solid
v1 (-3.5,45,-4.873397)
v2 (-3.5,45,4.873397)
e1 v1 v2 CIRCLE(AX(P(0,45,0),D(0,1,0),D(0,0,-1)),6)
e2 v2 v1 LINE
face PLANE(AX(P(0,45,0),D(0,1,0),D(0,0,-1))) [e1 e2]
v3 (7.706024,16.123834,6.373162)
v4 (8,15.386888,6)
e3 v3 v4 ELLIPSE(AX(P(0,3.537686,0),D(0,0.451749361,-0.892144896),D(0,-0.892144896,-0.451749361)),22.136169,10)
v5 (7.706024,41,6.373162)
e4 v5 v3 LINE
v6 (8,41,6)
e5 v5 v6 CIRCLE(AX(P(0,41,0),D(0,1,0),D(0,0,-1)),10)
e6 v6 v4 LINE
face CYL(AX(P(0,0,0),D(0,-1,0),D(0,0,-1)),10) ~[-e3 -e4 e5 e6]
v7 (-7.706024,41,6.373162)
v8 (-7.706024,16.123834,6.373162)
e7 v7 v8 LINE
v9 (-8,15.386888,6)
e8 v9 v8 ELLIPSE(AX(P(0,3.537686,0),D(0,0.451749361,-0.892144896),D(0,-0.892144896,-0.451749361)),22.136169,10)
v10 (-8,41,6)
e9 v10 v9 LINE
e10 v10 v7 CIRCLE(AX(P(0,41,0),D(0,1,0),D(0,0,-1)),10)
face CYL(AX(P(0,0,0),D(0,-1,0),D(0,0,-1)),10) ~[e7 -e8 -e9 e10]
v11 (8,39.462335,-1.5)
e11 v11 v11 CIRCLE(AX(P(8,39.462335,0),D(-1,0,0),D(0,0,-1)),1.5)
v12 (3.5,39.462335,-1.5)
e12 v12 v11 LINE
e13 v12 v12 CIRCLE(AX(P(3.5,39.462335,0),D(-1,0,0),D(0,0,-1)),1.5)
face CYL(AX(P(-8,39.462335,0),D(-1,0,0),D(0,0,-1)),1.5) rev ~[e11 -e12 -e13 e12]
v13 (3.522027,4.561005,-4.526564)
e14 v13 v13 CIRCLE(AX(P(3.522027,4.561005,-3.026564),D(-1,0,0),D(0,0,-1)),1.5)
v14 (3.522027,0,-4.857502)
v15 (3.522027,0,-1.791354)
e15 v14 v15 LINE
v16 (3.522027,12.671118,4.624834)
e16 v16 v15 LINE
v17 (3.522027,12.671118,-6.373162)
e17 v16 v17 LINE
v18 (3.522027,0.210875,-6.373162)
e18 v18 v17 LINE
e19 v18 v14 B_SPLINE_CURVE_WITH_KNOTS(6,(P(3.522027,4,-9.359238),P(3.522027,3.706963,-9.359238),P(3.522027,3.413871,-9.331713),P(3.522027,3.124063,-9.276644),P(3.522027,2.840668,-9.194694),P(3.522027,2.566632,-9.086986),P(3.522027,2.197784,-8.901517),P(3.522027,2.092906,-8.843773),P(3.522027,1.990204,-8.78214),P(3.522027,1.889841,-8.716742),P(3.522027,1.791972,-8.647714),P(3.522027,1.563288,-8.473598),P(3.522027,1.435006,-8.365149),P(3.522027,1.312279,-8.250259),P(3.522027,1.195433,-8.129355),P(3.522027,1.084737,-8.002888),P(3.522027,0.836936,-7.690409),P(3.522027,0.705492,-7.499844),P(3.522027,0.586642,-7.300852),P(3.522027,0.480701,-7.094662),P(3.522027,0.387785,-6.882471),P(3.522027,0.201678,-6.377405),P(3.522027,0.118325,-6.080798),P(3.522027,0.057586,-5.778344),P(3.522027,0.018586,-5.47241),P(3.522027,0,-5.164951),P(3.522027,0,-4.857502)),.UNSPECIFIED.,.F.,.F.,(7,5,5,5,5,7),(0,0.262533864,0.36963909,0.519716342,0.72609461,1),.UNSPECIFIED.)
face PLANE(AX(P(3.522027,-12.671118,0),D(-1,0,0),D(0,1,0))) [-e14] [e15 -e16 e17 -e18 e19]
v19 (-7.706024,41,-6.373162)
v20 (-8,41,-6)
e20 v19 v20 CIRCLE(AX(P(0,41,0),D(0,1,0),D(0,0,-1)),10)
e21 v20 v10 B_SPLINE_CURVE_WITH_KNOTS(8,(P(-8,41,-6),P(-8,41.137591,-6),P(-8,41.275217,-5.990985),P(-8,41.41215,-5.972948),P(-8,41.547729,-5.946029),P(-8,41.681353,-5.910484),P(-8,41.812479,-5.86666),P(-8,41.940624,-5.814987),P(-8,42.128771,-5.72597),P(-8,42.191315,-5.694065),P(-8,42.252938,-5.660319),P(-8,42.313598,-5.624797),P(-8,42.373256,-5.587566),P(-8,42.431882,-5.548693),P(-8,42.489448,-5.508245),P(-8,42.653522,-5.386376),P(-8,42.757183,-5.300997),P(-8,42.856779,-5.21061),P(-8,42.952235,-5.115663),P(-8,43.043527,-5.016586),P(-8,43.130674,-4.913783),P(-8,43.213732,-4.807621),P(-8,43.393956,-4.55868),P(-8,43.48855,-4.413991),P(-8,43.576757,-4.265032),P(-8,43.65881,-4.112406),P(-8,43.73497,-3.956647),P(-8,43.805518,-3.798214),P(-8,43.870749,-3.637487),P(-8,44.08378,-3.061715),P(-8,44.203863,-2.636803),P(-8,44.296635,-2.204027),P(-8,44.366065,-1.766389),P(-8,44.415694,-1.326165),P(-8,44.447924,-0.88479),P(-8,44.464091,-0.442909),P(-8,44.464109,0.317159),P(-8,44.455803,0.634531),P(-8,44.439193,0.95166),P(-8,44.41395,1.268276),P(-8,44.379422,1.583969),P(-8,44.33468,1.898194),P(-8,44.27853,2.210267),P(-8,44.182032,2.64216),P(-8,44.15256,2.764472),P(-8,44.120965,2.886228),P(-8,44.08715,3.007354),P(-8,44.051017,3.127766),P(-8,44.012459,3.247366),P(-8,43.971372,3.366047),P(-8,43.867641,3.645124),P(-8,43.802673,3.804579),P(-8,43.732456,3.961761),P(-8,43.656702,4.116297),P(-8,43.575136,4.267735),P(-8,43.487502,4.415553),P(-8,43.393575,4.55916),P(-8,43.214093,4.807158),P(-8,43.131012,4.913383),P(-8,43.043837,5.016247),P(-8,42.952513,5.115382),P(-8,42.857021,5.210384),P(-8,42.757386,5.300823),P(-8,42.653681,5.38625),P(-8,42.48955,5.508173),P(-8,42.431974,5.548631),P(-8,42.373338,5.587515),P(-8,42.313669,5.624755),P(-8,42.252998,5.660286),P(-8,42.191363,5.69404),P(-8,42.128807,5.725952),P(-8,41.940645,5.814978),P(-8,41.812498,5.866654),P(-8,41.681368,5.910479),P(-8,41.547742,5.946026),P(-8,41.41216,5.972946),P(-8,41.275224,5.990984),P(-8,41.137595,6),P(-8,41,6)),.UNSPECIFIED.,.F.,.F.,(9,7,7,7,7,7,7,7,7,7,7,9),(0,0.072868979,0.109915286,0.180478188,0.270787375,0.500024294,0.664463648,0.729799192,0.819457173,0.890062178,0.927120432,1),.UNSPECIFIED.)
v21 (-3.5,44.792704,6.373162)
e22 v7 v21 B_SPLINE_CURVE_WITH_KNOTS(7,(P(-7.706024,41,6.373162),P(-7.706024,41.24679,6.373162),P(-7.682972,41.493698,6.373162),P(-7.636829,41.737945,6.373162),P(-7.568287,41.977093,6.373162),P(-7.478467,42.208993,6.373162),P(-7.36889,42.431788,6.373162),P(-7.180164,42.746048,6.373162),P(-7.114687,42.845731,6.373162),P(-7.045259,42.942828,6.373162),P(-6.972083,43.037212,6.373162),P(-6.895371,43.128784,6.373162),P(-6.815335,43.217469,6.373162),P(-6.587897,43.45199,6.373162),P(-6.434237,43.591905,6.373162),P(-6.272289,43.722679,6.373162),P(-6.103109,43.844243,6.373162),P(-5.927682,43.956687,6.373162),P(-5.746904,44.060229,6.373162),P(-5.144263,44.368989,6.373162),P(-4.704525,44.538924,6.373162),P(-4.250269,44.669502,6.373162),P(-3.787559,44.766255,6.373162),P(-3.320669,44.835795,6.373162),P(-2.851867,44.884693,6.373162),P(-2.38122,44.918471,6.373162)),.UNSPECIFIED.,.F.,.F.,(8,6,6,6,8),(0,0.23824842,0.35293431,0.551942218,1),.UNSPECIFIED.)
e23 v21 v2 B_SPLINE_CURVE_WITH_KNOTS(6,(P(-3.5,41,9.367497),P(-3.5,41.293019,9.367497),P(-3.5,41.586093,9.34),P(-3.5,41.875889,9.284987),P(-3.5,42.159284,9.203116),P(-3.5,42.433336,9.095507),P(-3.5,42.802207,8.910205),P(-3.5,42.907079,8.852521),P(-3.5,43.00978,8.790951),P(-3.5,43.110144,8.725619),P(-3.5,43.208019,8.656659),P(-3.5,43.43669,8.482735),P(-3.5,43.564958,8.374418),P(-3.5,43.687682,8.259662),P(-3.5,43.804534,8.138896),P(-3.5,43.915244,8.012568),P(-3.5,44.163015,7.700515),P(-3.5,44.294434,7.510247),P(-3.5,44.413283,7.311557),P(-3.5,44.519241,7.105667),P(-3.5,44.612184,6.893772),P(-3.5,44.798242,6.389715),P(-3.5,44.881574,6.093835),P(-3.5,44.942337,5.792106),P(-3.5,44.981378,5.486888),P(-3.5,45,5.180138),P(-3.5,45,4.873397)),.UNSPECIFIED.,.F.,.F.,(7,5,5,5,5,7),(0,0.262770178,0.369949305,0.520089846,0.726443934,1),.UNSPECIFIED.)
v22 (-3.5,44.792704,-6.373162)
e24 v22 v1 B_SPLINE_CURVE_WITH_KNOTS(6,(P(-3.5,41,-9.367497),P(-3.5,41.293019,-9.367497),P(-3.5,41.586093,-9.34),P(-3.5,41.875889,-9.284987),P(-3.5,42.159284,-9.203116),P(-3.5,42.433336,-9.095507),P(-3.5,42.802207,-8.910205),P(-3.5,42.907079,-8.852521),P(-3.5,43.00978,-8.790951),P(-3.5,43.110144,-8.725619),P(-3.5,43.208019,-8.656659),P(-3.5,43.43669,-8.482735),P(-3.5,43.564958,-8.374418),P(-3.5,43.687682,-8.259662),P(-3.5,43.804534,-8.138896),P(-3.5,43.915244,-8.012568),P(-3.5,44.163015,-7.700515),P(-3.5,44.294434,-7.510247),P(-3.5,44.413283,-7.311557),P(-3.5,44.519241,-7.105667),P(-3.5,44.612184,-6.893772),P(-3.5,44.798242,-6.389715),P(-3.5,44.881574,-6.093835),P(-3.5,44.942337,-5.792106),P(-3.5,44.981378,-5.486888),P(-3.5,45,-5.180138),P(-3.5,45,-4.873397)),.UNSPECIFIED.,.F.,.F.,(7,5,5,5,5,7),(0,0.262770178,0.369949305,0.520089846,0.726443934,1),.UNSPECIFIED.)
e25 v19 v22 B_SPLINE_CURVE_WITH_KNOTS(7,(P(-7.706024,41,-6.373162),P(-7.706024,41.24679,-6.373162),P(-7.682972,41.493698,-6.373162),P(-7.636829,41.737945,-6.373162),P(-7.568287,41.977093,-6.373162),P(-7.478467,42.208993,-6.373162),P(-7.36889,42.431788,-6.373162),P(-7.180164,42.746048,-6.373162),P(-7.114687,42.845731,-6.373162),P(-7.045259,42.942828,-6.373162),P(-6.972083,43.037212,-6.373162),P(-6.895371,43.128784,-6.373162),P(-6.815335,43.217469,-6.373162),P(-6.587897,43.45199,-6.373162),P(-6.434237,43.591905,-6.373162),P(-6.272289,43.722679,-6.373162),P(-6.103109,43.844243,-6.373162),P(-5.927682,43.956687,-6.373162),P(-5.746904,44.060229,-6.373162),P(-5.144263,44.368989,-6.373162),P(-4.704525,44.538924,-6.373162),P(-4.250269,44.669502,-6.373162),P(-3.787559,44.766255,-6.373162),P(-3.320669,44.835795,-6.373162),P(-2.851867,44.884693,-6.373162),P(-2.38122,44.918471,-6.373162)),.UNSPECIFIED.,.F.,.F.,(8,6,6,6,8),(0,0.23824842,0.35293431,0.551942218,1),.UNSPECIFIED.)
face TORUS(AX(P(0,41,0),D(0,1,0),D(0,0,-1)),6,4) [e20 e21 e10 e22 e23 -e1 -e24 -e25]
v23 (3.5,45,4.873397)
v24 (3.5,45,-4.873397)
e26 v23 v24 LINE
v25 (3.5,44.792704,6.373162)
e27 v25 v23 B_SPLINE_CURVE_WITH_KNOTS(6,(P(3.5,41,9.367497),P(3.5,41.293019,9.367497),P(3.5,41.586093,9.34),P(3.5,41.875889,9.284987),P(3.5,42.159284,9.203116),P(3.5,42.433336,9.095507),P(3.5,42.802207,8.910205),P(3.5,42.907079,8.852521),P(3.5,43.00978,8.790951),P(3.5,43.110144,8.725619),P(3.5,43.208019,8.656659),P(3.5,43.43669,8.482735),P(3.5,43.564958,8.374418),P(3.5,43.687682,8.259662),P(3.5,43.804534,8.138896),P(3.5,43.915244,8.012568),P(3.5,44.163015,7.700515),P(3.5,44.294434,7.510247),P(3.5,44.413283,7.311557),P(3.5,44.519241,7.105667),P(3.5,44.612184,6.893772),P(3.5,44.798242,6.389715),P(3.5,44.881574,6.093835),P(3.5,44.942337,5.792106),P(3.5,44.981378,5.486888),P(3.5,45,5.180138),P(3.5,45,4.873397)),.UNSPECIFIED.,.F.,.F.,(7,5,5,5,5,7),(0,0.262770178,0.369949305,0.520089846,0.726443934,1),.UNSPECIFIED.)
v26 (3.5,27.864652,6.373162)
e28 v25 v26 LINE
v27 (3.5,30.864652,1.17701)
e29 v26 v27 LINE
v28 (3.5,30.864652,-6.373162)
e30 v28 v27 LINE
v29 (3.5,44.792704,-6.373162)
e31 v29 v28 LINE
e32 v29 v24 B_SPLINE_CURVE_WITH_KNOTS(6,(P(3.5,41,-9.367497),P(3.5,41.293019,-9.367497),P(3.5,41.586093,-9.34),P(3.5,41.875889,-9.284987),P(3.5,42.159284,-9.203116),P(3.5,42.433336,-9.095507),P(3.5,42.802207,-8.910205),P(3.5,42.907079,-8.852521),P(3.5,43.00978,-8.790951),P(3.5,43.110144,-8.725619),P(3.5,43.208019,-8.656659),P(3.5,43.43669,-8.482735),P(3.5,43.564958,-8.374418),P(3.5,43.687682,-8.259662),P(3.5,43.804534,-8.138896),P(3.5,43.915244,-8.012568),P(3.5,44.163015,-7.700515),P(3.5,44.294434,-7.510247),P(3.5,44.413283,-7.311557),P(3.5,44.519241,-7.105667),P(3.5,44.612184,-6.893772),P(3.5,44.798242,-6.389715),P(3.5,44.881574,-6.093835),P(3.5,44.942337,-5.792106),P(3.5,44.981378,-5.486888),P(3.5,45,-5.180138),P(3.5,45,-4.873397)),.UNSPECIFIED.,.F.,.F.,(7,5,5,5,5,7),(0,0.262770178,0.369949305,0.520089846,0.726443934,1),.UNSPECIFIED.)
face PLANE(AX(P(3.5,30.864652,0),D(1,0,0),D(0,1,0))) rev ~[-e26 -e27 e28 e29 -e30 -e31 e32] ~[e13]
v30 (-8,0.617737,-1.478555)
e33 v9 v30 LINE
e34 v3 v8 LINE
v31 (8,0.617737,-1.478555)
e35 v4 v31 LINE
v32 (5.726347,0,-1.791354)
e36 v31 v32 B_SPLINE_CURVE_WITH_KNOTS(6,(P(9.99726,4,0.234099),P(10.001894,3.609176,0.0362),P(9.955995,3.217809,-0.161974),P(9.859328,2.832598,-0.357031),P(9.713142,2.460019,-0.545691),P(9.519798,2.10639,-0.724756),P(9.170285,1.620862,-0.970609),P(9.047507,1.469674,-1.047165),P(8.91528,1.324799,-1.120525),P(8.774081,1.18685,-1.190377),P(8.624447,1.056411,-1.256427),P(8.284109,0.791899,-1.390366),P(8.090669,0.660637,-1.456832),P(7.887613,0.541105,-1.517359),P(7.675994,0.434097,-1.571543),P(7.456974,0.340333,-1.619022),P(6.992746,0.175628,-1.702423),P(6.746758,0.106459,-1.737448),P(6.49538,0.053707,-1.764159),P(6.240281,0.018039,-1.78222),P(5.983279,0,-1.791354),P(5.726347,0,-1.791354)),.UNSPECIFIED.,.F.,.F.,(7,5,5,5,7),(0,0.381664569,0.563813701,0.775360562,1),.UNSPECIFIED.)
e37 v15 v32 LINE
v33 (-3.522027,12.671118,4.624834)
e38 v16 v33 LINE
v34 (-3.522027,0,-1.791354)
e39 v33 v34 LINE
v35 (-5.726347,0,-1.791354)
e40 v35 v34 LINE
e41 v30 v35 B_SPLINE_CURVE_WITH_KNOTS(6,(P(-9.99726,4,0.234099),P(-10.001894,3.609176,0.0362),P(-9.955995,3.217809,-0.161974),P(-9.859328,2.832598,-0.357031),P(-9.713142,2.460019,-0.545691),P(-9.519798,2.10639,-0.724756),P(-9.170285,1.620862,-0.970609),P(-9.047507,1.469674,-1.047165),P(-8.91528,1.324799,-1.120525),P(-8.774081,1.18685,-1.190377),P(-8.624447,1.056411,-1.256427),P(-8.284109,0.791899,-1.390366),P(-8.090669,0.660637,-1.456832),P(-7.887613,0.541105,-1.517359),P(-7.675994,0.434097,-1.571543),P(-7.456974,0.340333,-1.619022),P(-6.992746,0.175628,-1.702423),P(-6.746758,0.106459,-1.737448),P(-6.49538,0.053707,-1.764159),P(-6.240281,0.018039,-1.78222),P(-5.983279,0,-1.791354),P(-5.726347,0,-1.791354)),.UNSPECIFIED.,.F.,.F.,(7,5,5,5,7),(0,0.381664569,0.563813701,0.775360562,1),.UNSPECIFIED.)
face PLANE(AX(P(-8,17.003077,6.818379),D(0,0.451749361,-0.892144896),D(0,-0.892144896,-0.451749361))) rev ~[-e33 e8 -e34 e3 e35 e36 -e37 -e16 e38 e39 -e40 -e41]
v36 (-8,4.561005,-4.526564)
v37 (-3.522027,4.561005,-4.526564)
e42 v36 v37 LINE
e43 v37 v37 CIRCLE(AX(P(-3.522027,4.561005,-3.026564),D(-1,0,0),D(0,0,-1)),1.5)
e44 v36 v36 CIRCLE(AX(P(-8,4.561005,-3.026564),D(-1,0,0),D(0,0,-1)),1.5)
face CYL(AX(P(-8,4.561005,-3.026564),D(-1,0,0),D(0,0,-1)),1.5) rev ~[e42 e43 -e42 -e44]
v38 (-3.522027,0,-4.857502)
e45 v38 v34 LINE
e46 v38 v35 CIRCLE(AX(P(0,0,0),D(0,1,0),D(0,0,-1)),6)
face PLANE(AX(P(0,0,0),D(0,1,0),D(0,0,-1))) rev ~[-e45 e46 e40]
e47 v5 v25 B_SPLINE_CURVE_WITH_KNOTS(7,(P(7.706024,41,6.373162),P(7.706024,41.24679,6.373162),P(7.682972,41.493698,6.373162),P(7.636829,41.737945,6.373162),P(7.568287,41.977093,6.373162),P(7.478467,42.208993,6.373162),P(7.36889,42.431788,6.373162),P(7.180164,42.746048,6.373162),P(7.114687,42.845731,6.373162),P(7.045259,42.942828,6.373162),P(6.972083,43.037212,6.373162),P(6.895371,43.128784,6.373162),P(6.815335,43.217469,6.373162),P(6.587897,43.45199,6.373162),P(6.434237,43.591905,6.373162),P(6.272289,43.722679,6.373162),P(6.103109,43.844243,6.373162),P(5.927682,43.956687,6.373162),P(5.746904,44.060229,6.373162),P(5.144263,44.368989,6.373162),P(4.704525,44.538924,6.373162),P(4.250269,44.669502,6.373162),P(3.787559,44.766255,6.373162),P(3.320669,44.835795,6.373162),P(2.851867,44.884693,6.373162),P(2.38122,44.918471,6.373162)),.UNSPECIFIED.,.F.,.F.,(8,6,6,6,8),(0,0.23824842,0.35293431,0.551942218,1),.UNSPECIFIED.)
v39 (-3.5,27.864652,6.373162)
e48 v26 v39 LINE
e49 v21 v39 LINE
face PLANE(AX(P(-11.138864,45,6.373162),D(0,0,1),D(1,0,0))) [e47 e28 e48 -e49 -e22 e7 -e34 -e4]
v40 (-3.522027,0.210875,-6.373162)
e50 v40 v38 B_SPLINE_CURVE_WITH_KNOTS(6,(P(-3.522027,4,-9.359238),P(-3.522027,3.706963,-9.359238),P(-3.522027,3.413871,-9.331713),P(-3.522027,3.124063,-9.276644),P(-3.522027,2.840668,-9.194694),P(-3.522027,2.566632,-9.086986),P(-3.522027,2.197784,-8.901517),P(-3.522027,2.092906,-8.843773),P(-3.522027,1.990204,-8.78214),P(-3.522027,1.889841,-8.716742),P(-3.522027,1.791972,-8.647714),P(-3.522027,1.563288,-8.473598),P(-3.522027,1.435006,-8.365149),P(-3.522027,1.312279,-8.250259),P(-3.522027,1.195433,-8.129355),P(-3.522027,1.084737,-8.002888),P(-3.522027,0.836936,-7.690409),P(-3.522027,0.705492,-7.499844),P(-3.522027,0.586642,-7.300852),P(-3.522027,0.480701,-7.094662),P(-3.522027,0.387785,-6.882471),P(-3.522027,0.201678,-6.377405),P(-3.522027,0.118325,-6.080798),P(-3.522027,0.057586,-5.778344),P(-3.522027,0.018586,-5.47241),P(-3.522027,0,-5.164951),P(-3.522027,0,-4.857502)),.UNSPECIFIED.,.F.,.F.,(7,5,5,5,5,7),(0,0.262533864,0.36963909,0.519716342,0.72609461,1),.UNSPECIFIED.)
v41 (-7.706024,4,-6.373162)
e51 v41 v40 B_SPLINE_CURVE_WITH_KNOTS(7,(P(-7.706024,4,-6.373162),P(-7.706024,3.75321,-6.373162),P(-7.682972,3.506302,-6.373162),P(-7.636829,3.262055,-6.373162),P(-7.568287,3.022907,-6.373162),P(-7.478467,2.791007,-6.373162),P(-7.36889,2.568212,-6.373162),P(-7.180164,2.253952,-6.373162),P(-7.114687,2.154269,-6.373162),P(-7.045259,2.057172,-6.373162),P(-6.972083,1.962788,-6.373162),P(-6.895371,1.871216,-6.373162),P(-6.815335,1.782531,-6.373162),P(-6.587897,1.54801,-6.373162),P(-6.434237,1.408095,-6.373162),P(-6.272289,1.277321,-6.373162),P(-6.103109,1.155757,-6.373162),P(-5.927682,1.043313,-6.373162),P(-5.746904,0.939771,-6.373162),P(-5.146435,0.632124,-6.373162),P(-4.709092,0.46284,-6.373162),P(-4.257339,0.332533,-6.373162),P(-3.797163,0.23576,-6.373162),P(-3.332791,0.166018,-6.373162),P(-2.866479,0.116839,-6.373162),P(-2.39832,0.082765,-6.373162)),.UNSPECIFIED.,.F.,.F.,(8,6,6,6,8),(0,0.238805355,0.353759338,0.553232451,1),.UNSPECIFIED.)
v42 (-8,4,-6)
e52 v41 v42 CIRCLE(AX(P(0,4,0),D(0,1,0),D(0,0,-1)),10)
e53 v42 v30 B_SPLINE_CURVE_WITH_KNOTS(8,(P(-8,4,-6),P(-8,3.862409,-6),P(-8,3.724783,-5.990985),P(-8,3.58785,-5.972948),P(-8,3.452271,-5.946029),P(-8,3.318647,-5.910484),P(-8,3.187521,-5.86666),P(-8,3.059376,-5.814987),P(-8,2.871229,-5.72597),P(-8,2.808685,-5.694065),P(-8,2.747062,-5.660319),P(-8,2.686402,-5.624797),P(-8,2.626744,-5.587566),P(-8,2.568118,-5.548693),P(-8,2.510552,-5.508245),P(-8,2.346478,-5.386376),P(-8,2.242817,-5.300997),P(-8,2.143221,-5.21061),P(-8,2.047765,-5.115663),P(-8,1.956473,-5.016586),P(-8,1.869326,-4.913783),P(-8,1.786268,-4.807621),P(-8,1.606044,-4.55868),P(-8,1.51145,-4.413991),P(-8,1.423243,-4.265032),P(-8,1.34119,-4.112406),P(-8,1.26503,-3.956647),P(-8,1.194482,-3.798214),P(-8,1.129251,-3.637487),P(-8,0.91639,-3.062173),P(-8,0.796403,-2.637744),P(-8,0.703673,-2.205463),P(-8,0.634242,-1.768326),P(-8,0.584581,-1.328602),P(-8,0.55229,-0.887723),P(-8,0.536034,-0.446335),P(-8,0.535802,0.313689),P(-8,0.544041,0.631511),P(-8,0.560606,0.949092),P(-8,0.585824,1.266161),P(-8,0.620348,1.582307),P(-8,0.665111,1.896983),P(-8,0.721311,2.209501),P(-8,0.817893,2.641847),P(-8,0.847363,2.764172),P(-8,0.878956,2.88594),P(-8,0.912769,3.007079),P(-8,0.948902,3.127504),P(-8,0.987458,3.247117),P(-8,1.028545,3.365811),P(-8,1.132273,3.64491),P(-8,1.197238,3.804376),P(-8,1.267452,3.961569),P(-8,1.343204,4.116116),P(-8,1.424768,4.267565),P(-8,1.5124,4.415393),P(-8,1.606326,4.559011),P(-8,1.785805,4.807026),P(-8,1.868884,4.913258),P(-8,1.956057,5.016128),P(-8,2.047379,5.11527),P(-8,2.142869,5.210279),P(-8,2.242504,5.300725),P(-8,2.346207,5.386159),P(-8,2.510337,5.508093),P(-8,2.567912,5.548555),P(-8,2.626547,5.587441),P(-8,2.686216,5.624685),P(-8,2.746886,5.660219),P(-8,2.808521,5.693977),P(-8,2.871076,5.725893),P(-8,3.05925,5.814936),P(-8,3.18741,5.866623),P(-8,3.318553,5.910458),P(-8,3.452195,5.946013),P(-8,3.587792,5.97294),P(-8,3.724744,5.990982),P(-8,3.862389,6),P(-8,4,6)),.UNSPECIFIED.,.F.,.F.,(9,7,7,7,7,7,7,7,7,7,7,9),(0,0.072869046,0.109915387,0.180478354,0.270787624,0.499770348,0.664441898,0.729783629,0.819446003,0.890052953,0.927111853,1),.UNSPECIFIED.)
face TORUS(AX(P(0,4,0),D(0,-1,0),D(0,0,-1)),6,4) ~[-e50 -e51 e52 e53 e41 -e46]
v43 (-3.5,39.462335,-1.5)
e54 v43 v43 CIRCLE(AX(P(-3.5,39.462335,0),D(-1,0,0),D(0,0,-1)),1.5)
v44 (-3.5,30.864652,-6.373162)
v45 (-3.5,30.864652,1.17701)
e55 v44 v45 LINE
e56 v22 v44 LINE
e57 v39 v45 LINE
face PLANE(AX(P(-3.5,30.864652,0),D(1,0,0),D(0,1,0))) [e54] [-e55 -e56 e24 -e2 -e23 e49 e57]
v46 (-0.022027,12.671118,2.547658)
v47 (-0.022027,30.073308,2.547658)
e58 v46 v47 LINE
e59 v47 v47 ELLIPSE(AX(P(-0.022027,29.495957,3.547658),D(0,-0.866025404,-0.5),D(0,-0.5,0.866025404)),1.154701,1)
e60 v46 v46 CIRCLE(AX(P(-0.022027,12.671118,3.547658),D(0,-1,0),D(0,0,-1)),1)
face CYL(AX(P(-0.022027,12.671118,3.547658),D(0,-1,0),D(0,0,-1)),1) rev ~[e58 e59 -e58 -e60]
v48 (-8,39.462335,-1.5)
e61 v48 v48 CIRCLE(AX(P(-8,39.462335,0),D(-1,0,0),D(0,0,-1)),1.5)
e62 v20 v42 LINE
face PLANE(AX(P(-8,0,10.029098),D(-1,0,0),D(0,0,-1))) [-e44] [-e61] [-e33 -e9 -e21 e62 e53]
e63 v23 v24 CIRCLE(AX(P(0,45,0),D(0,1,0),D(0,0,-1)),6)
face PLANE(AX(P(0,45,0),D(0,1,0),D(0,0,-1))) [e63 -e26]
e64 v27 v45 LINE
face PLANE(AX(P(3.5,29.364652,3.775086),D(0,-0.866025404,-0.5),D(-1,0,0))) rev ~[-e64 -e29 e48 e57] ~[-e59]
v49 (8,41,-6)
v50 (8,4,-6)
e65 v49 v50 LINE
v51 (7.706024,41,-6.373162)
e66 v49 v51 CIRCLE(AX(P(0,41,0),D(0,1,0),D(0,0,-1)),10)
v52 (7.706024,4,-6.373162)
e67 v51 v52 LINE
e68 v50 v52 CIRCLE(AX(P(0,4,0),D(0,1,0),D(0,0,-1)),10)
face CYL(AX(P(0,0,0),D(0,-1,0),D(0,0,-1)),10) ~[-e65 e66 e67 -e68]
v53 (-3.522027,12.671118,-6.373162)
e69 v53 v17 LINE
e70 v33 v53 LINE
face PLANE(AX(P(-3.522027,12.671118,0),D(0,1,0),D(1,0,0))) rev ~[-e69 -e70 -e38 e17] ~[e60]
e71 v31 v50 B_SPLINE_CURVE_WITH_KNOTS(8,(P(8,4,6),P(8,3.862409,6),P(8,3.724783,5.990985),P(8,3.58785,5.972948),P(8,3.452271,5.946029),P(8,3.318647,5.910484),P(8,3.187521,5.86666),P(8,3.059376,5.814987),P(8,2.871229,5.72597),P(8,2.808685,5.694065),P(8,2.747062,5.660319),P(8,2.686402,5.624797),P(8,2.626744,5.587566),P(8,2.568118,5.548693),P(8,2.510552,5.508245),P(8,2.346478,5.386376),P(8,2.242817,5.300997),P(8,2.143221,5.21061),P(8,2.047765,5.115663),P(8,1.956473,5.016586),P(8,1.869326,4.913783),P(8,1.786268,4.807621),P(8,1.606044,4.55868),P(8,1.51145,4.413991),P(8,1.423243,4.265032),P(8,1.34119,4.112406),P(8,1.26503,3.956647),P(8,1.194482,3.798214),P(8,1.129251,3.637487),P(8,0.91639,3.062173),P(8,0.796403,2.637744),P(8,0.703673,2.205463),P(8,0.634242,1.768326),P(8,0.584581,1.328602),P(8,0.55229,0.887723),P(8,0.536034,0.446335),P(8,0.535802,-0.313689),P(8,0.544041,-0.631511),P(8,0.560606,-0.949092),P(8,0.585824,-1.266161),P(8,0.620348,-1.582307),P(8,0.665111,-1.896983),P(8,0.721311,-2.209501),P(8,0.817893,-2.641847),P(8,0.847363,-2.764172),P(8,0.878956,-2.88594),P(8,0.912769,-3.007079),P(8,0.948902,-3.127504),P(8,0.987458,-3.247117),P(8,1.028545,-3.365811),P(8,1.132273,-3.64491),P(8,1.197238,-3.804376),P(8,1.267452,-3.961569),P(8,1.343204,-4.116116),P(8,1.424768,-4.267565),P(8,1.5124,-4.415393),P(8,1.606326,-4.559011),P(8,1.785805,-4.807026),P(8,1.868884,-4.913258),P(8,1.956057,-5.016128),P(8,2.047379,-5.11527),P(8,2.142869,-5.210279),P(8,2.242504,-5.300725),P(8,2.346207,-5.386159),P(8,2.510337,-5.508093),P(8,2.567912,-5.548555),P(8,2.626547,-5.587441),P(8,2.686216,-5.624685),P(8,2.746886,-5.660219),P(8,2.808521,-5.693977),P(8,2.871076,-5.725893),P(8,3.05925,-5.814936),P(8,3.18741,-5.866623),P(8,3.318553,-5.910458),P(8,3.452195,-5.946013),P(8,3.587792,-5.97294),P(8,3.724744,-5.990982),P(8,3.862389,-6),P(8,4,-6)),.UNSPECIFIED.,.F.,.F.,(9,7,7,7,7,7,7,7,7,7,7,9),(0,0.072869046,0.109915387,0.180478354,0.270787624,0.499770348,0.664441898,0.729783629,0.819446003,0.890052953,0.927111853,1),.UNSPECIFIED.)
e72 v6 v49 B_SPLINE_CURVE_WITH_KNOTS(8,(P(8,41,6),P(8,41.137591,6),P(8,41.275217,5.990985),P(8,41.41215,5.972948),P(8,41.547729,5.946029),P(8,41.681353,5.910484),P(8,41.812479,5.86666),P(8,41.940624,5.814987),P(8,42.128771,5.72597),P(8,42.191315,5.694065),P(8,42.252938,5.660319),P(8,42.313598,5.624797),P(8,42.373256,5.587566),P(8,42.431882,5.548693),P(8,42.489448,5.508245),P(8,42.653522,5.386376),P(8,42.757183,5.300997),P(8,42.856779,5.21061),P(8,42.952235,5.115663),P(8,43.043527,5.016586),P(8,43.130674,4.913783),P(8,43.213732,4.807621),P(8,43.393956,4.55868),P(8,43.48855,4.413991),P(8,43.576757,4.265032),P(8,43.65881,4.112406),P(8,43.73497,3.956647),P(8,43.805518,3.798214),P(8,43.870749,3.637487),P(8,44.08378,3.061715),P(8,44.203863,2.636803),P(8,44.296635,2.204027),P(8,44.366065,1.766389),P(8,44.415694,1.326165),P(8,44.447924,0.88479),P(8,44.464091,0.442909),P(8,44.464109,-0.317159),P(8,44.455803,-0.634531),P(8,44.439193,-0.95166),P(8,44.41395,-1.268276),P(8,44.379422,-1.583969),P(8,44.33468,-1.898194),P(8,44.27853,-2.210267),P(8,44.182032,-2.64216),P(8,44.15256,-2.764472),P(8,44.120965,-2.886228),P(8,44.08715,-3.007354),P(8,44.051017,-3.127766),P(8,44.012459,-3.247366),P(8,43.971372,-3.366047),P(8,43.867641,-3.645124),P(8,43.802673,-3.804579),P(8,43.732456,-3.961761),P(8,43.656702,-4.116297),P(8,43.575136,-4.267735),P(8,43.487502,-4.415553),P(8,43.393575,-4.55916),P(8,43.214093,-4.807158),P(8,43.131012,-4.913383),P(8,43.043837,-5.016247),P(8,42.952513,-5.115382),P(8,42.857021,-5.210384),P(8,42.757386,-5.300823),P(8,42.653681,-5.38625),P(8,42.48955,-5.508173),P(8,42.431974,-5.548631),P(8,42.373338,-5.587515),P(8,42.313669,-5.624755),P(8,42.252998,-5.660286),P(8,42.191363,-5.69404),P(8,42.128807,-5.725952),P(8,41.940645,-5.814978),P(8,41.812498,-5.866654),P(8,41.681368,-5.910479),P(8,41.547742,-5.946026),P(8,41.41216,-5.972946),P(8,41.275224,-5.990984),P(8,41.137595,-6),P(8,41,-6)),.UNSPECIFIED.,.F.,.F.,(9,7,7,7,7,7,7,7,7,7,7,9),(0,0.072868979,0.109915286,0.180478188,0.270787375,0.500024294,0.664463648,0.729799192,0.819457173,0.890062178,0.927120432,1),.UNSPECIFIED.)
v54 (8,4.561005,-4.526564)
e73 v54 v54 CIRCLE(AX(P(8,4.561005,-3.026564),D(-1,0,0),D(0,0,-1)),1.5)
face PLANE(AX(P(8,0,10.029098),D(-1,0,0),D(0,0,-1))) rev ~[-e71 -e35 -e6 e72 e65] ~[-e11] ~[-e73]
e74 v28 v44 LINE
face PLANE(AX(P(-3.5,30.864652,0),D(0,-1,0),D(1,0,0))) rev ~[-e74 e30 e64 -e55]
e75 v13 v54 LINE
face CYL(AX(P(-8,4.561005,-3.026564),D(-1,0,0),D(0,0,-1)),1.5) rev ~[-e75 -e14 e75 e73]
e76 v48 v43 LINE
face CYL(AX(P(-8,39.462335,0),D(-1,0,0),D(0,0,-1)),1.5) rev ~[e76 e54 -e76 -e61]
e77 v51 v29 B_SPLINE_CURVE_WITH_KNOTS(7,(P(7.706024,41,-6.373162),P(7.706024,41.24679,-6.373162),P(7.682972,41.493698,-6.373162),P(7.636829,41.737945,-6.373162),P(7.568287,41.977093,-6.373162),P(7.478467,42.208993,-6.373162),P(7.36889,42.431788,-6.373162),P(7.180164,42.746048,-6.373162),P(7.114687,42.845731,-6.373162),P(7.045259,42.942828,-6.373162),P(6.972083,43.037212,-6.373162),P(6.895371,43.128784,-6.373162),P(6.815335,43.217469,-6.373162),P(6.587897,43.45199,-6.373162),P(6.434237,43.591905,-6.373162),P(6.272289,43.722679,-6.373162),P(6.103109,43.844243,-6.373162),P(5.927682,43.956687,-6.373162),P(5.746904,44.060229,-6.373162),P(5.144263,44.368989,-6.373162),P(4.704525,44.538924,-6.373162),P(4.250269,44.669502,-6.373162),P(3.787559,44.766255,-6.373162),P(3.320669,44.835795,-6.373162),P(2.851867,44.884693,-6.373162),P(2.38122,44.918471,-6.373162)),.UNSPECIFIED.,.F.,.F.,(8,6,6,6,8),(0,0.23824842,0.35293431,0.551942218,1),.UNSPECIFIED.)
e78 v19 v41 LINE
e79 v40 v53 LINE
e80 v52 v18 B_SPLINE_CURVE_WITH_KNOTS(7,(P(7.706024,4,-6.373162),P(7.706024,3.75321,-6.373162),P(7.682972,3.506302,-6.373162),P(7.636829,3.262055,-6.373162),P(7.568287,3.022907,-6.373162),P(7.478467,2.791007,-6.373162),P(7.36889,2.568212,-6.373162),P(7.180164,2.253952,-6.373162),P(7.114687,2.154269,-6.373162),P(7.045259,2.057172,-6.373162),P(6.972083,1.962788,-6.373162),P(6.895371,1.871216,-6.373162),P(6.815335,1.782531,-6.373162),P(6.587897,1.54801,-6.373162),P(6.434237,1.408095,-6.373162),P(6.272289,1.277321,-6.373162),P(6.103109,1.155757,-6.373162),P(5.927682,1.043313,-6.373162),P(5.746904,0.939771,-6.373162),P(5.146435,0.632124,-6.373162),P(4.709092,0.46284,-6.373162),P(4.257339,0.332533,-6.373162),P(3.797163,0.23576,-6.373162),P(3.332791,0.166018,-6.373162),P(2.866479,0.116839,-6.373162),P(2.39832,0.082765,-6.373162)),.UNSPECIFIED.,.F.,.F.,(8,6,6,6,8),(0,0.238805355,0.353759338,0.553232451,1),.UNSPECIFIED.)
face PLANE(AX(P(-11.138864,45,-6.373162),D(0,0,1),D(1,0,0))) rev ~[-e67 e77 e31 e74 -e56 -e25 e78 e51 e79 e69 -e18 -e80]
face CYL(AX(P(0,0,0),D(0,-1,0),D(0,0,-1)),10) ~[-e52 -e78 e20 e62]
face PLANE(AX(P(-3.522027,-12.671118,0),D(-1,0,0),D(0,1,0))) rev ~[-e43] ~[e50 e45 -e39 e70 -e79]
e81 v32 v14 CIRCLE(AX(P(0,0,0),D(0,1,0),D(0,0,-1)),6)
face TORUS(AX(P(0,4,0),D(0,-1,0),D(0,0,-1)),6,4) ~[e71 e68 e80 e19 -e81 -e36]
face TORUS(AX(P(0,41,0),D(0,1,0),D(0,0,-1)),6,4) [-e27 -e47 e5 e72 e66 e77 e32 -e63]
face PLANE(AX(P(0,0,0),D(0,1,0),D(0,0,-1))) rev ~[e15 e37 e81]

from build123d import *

# Parameters (mm, degrees)
SKETCH1_R           = 10
EXTRUDE1_DEPTH      = 45
FILLET1_R           = 4
SKETCH2_W           = 7.044053374
SKETCH2_H           = 25.342236328
SKETCH2_W_2         = 7
SKETCH2_H_2         = 23.94716261
EXTRUDE2_DEPTH      = 20
SKETCH5_W           = 5.258419436
SKETCH5_H           = 20.959398048
EXTRUDE4_DEPTH      = 48.169905777
SKETCH11_W          = 21.968744981
SKETCH11_H          = 5.630856805
EXTRUDE10_DEPTH     = 47.786750374
SKETCH12_R          = 1.5
EXTRUDE11_DEPTH     = 49.183163121
SKETCH13_R          = 1.5
EXTRUDE12_DEPTH     = 49.183163121
CHAMFER_1_SIZE      = 3
CHAMFER_1_SIZE2     = 5.196152423
SKETCH_1_R          = 1
CUT_EXTRUDE_1_DEPTH = 34.908314691


with BuildPart() as part:
    # Sketch1 → Extrude1 (new body)
    with BuildSketch(Plane(origin=(0, 0, 0), x_dir=(1, 0, 0), z_dir=(0, 1, 0))):
        with Locations(Location((0, 0, 0), (0, 0, 90))):
            Circle(SKETCH1_R)
    extrude(amount=EXTRUDE1_DEPTH)

    # Fillet1
    fillet1_edges = [part.edges().sort_by_distance(p)[0] for p in [
        (0, 0, 10),
        (0, 45, 10),
    ]]
    fillet(fillet1_edges, radius=FILLET1_R)

    # Sketch2 → Extrude2 (cut, symmetric)
    with BuildSketch(Plane.XY):
        Rectangle(SKETCH2_W, SKETCH2_H)
        with Locations((0, 42.838233159)):
            Rectangle(SKETCH2_W_2, SKETCH2_H_2)
    extrude(amount=EXTRUDE2_DEPTH, both=True, mode=Mode.SUBTRACT)

    # Sketch5 → Extrude4 (cut, through all)
    with BuildSketch(Plane(origin=(0, 0, 0), x_dir=(1, 0, 0), z_dir=(0, 1, 0))):
        with Locations((10.629209718, 0.450601309)):
            Rectangle(SKETCH5_W, SKETCH5_H)
        with Locations((-10.629209718, 0.450601309)):
            Rectangle(SKETCH5_W, SKETCH5_H)
    extrude(amount=EXTRUDE4_DEPTH, mode=Mode.SUBTRACT)

    # Sketch11 → Extrude10 (cut, through all)
    with BuildSketch(Plane(origin=(0, 45, 0), x_dir=(1, 0, 0), z_dir=(0, 1, 0))):
        with Locations((-0.154491877, -9.18859048)):
            Rectangle(SKETCH11_W, SKETCH11_H)
        with Locations((-0.154491877, 9.18859048)):
            Rectangle(SKETCH11_W, SKETCH11_H)
    extrude(amount=-EXTRUDE10_DEPTH, mode=Mode.SUBTRACT)

    # Sketch12 → Extrude11 (cut, through all)
    with BuildSketch(Plane.ZY.offset(8)):
        with Locations(Location((0, 39.462335046, 0), (0, 0, 180))):
            Circle(SKETCH12_R)
    extrude(amount=-EXTRUDE11_DEPTH, mode=Mode.SUBTRACT)

    # Sketch13 → Extrude12 (cut, through all)
    with BuildSketch(Plane.ZY.offset(8)):
        with Locations(Location((-3.026564036, 4.561005479, 0), (0, 0, 180))):
            Circle(SKETCH13_R)
        Polygon((6.818378582, 17.003077145), (-1.791354285, 0), (6.818378582, 0), align=None)
    extrude(amount=-EXTRUDE12_DEPTH, mode=Mode.SUBTRACT)

    # Фаска1
    chamfer_1_edges = [part.edges().sort_by_distance(p)[0] for p in [
        (0, 30.864651854, 6.373162077),
    ]]
    chamfer_1_side = [part.faces().sort_by_distance(p)[0] for p in [
        (0, 28.01207475, 6.373162077),
    ]]
    chamfer(chamfer_1_edges, length=CHAMFER_1_SIZE, length2=CHAMFER_1_SIZE2, reference=chamfer_1_side[0])

    # Эскиз1 → Вырез-Вытянуть1 (cut, through all)
    with BuildSketch(Plane.XZ.offset(-12.671118164)):
        with Locations(Location((-0.022026687, 3.547657951, 0), (0, 0, 270))):
            Circle(SKETCH_1_R)
    extrude(amount=-CUT_EXTRUDE_1_DEPTH, mode=Mode.SUBTRACT)


solid = part.part
